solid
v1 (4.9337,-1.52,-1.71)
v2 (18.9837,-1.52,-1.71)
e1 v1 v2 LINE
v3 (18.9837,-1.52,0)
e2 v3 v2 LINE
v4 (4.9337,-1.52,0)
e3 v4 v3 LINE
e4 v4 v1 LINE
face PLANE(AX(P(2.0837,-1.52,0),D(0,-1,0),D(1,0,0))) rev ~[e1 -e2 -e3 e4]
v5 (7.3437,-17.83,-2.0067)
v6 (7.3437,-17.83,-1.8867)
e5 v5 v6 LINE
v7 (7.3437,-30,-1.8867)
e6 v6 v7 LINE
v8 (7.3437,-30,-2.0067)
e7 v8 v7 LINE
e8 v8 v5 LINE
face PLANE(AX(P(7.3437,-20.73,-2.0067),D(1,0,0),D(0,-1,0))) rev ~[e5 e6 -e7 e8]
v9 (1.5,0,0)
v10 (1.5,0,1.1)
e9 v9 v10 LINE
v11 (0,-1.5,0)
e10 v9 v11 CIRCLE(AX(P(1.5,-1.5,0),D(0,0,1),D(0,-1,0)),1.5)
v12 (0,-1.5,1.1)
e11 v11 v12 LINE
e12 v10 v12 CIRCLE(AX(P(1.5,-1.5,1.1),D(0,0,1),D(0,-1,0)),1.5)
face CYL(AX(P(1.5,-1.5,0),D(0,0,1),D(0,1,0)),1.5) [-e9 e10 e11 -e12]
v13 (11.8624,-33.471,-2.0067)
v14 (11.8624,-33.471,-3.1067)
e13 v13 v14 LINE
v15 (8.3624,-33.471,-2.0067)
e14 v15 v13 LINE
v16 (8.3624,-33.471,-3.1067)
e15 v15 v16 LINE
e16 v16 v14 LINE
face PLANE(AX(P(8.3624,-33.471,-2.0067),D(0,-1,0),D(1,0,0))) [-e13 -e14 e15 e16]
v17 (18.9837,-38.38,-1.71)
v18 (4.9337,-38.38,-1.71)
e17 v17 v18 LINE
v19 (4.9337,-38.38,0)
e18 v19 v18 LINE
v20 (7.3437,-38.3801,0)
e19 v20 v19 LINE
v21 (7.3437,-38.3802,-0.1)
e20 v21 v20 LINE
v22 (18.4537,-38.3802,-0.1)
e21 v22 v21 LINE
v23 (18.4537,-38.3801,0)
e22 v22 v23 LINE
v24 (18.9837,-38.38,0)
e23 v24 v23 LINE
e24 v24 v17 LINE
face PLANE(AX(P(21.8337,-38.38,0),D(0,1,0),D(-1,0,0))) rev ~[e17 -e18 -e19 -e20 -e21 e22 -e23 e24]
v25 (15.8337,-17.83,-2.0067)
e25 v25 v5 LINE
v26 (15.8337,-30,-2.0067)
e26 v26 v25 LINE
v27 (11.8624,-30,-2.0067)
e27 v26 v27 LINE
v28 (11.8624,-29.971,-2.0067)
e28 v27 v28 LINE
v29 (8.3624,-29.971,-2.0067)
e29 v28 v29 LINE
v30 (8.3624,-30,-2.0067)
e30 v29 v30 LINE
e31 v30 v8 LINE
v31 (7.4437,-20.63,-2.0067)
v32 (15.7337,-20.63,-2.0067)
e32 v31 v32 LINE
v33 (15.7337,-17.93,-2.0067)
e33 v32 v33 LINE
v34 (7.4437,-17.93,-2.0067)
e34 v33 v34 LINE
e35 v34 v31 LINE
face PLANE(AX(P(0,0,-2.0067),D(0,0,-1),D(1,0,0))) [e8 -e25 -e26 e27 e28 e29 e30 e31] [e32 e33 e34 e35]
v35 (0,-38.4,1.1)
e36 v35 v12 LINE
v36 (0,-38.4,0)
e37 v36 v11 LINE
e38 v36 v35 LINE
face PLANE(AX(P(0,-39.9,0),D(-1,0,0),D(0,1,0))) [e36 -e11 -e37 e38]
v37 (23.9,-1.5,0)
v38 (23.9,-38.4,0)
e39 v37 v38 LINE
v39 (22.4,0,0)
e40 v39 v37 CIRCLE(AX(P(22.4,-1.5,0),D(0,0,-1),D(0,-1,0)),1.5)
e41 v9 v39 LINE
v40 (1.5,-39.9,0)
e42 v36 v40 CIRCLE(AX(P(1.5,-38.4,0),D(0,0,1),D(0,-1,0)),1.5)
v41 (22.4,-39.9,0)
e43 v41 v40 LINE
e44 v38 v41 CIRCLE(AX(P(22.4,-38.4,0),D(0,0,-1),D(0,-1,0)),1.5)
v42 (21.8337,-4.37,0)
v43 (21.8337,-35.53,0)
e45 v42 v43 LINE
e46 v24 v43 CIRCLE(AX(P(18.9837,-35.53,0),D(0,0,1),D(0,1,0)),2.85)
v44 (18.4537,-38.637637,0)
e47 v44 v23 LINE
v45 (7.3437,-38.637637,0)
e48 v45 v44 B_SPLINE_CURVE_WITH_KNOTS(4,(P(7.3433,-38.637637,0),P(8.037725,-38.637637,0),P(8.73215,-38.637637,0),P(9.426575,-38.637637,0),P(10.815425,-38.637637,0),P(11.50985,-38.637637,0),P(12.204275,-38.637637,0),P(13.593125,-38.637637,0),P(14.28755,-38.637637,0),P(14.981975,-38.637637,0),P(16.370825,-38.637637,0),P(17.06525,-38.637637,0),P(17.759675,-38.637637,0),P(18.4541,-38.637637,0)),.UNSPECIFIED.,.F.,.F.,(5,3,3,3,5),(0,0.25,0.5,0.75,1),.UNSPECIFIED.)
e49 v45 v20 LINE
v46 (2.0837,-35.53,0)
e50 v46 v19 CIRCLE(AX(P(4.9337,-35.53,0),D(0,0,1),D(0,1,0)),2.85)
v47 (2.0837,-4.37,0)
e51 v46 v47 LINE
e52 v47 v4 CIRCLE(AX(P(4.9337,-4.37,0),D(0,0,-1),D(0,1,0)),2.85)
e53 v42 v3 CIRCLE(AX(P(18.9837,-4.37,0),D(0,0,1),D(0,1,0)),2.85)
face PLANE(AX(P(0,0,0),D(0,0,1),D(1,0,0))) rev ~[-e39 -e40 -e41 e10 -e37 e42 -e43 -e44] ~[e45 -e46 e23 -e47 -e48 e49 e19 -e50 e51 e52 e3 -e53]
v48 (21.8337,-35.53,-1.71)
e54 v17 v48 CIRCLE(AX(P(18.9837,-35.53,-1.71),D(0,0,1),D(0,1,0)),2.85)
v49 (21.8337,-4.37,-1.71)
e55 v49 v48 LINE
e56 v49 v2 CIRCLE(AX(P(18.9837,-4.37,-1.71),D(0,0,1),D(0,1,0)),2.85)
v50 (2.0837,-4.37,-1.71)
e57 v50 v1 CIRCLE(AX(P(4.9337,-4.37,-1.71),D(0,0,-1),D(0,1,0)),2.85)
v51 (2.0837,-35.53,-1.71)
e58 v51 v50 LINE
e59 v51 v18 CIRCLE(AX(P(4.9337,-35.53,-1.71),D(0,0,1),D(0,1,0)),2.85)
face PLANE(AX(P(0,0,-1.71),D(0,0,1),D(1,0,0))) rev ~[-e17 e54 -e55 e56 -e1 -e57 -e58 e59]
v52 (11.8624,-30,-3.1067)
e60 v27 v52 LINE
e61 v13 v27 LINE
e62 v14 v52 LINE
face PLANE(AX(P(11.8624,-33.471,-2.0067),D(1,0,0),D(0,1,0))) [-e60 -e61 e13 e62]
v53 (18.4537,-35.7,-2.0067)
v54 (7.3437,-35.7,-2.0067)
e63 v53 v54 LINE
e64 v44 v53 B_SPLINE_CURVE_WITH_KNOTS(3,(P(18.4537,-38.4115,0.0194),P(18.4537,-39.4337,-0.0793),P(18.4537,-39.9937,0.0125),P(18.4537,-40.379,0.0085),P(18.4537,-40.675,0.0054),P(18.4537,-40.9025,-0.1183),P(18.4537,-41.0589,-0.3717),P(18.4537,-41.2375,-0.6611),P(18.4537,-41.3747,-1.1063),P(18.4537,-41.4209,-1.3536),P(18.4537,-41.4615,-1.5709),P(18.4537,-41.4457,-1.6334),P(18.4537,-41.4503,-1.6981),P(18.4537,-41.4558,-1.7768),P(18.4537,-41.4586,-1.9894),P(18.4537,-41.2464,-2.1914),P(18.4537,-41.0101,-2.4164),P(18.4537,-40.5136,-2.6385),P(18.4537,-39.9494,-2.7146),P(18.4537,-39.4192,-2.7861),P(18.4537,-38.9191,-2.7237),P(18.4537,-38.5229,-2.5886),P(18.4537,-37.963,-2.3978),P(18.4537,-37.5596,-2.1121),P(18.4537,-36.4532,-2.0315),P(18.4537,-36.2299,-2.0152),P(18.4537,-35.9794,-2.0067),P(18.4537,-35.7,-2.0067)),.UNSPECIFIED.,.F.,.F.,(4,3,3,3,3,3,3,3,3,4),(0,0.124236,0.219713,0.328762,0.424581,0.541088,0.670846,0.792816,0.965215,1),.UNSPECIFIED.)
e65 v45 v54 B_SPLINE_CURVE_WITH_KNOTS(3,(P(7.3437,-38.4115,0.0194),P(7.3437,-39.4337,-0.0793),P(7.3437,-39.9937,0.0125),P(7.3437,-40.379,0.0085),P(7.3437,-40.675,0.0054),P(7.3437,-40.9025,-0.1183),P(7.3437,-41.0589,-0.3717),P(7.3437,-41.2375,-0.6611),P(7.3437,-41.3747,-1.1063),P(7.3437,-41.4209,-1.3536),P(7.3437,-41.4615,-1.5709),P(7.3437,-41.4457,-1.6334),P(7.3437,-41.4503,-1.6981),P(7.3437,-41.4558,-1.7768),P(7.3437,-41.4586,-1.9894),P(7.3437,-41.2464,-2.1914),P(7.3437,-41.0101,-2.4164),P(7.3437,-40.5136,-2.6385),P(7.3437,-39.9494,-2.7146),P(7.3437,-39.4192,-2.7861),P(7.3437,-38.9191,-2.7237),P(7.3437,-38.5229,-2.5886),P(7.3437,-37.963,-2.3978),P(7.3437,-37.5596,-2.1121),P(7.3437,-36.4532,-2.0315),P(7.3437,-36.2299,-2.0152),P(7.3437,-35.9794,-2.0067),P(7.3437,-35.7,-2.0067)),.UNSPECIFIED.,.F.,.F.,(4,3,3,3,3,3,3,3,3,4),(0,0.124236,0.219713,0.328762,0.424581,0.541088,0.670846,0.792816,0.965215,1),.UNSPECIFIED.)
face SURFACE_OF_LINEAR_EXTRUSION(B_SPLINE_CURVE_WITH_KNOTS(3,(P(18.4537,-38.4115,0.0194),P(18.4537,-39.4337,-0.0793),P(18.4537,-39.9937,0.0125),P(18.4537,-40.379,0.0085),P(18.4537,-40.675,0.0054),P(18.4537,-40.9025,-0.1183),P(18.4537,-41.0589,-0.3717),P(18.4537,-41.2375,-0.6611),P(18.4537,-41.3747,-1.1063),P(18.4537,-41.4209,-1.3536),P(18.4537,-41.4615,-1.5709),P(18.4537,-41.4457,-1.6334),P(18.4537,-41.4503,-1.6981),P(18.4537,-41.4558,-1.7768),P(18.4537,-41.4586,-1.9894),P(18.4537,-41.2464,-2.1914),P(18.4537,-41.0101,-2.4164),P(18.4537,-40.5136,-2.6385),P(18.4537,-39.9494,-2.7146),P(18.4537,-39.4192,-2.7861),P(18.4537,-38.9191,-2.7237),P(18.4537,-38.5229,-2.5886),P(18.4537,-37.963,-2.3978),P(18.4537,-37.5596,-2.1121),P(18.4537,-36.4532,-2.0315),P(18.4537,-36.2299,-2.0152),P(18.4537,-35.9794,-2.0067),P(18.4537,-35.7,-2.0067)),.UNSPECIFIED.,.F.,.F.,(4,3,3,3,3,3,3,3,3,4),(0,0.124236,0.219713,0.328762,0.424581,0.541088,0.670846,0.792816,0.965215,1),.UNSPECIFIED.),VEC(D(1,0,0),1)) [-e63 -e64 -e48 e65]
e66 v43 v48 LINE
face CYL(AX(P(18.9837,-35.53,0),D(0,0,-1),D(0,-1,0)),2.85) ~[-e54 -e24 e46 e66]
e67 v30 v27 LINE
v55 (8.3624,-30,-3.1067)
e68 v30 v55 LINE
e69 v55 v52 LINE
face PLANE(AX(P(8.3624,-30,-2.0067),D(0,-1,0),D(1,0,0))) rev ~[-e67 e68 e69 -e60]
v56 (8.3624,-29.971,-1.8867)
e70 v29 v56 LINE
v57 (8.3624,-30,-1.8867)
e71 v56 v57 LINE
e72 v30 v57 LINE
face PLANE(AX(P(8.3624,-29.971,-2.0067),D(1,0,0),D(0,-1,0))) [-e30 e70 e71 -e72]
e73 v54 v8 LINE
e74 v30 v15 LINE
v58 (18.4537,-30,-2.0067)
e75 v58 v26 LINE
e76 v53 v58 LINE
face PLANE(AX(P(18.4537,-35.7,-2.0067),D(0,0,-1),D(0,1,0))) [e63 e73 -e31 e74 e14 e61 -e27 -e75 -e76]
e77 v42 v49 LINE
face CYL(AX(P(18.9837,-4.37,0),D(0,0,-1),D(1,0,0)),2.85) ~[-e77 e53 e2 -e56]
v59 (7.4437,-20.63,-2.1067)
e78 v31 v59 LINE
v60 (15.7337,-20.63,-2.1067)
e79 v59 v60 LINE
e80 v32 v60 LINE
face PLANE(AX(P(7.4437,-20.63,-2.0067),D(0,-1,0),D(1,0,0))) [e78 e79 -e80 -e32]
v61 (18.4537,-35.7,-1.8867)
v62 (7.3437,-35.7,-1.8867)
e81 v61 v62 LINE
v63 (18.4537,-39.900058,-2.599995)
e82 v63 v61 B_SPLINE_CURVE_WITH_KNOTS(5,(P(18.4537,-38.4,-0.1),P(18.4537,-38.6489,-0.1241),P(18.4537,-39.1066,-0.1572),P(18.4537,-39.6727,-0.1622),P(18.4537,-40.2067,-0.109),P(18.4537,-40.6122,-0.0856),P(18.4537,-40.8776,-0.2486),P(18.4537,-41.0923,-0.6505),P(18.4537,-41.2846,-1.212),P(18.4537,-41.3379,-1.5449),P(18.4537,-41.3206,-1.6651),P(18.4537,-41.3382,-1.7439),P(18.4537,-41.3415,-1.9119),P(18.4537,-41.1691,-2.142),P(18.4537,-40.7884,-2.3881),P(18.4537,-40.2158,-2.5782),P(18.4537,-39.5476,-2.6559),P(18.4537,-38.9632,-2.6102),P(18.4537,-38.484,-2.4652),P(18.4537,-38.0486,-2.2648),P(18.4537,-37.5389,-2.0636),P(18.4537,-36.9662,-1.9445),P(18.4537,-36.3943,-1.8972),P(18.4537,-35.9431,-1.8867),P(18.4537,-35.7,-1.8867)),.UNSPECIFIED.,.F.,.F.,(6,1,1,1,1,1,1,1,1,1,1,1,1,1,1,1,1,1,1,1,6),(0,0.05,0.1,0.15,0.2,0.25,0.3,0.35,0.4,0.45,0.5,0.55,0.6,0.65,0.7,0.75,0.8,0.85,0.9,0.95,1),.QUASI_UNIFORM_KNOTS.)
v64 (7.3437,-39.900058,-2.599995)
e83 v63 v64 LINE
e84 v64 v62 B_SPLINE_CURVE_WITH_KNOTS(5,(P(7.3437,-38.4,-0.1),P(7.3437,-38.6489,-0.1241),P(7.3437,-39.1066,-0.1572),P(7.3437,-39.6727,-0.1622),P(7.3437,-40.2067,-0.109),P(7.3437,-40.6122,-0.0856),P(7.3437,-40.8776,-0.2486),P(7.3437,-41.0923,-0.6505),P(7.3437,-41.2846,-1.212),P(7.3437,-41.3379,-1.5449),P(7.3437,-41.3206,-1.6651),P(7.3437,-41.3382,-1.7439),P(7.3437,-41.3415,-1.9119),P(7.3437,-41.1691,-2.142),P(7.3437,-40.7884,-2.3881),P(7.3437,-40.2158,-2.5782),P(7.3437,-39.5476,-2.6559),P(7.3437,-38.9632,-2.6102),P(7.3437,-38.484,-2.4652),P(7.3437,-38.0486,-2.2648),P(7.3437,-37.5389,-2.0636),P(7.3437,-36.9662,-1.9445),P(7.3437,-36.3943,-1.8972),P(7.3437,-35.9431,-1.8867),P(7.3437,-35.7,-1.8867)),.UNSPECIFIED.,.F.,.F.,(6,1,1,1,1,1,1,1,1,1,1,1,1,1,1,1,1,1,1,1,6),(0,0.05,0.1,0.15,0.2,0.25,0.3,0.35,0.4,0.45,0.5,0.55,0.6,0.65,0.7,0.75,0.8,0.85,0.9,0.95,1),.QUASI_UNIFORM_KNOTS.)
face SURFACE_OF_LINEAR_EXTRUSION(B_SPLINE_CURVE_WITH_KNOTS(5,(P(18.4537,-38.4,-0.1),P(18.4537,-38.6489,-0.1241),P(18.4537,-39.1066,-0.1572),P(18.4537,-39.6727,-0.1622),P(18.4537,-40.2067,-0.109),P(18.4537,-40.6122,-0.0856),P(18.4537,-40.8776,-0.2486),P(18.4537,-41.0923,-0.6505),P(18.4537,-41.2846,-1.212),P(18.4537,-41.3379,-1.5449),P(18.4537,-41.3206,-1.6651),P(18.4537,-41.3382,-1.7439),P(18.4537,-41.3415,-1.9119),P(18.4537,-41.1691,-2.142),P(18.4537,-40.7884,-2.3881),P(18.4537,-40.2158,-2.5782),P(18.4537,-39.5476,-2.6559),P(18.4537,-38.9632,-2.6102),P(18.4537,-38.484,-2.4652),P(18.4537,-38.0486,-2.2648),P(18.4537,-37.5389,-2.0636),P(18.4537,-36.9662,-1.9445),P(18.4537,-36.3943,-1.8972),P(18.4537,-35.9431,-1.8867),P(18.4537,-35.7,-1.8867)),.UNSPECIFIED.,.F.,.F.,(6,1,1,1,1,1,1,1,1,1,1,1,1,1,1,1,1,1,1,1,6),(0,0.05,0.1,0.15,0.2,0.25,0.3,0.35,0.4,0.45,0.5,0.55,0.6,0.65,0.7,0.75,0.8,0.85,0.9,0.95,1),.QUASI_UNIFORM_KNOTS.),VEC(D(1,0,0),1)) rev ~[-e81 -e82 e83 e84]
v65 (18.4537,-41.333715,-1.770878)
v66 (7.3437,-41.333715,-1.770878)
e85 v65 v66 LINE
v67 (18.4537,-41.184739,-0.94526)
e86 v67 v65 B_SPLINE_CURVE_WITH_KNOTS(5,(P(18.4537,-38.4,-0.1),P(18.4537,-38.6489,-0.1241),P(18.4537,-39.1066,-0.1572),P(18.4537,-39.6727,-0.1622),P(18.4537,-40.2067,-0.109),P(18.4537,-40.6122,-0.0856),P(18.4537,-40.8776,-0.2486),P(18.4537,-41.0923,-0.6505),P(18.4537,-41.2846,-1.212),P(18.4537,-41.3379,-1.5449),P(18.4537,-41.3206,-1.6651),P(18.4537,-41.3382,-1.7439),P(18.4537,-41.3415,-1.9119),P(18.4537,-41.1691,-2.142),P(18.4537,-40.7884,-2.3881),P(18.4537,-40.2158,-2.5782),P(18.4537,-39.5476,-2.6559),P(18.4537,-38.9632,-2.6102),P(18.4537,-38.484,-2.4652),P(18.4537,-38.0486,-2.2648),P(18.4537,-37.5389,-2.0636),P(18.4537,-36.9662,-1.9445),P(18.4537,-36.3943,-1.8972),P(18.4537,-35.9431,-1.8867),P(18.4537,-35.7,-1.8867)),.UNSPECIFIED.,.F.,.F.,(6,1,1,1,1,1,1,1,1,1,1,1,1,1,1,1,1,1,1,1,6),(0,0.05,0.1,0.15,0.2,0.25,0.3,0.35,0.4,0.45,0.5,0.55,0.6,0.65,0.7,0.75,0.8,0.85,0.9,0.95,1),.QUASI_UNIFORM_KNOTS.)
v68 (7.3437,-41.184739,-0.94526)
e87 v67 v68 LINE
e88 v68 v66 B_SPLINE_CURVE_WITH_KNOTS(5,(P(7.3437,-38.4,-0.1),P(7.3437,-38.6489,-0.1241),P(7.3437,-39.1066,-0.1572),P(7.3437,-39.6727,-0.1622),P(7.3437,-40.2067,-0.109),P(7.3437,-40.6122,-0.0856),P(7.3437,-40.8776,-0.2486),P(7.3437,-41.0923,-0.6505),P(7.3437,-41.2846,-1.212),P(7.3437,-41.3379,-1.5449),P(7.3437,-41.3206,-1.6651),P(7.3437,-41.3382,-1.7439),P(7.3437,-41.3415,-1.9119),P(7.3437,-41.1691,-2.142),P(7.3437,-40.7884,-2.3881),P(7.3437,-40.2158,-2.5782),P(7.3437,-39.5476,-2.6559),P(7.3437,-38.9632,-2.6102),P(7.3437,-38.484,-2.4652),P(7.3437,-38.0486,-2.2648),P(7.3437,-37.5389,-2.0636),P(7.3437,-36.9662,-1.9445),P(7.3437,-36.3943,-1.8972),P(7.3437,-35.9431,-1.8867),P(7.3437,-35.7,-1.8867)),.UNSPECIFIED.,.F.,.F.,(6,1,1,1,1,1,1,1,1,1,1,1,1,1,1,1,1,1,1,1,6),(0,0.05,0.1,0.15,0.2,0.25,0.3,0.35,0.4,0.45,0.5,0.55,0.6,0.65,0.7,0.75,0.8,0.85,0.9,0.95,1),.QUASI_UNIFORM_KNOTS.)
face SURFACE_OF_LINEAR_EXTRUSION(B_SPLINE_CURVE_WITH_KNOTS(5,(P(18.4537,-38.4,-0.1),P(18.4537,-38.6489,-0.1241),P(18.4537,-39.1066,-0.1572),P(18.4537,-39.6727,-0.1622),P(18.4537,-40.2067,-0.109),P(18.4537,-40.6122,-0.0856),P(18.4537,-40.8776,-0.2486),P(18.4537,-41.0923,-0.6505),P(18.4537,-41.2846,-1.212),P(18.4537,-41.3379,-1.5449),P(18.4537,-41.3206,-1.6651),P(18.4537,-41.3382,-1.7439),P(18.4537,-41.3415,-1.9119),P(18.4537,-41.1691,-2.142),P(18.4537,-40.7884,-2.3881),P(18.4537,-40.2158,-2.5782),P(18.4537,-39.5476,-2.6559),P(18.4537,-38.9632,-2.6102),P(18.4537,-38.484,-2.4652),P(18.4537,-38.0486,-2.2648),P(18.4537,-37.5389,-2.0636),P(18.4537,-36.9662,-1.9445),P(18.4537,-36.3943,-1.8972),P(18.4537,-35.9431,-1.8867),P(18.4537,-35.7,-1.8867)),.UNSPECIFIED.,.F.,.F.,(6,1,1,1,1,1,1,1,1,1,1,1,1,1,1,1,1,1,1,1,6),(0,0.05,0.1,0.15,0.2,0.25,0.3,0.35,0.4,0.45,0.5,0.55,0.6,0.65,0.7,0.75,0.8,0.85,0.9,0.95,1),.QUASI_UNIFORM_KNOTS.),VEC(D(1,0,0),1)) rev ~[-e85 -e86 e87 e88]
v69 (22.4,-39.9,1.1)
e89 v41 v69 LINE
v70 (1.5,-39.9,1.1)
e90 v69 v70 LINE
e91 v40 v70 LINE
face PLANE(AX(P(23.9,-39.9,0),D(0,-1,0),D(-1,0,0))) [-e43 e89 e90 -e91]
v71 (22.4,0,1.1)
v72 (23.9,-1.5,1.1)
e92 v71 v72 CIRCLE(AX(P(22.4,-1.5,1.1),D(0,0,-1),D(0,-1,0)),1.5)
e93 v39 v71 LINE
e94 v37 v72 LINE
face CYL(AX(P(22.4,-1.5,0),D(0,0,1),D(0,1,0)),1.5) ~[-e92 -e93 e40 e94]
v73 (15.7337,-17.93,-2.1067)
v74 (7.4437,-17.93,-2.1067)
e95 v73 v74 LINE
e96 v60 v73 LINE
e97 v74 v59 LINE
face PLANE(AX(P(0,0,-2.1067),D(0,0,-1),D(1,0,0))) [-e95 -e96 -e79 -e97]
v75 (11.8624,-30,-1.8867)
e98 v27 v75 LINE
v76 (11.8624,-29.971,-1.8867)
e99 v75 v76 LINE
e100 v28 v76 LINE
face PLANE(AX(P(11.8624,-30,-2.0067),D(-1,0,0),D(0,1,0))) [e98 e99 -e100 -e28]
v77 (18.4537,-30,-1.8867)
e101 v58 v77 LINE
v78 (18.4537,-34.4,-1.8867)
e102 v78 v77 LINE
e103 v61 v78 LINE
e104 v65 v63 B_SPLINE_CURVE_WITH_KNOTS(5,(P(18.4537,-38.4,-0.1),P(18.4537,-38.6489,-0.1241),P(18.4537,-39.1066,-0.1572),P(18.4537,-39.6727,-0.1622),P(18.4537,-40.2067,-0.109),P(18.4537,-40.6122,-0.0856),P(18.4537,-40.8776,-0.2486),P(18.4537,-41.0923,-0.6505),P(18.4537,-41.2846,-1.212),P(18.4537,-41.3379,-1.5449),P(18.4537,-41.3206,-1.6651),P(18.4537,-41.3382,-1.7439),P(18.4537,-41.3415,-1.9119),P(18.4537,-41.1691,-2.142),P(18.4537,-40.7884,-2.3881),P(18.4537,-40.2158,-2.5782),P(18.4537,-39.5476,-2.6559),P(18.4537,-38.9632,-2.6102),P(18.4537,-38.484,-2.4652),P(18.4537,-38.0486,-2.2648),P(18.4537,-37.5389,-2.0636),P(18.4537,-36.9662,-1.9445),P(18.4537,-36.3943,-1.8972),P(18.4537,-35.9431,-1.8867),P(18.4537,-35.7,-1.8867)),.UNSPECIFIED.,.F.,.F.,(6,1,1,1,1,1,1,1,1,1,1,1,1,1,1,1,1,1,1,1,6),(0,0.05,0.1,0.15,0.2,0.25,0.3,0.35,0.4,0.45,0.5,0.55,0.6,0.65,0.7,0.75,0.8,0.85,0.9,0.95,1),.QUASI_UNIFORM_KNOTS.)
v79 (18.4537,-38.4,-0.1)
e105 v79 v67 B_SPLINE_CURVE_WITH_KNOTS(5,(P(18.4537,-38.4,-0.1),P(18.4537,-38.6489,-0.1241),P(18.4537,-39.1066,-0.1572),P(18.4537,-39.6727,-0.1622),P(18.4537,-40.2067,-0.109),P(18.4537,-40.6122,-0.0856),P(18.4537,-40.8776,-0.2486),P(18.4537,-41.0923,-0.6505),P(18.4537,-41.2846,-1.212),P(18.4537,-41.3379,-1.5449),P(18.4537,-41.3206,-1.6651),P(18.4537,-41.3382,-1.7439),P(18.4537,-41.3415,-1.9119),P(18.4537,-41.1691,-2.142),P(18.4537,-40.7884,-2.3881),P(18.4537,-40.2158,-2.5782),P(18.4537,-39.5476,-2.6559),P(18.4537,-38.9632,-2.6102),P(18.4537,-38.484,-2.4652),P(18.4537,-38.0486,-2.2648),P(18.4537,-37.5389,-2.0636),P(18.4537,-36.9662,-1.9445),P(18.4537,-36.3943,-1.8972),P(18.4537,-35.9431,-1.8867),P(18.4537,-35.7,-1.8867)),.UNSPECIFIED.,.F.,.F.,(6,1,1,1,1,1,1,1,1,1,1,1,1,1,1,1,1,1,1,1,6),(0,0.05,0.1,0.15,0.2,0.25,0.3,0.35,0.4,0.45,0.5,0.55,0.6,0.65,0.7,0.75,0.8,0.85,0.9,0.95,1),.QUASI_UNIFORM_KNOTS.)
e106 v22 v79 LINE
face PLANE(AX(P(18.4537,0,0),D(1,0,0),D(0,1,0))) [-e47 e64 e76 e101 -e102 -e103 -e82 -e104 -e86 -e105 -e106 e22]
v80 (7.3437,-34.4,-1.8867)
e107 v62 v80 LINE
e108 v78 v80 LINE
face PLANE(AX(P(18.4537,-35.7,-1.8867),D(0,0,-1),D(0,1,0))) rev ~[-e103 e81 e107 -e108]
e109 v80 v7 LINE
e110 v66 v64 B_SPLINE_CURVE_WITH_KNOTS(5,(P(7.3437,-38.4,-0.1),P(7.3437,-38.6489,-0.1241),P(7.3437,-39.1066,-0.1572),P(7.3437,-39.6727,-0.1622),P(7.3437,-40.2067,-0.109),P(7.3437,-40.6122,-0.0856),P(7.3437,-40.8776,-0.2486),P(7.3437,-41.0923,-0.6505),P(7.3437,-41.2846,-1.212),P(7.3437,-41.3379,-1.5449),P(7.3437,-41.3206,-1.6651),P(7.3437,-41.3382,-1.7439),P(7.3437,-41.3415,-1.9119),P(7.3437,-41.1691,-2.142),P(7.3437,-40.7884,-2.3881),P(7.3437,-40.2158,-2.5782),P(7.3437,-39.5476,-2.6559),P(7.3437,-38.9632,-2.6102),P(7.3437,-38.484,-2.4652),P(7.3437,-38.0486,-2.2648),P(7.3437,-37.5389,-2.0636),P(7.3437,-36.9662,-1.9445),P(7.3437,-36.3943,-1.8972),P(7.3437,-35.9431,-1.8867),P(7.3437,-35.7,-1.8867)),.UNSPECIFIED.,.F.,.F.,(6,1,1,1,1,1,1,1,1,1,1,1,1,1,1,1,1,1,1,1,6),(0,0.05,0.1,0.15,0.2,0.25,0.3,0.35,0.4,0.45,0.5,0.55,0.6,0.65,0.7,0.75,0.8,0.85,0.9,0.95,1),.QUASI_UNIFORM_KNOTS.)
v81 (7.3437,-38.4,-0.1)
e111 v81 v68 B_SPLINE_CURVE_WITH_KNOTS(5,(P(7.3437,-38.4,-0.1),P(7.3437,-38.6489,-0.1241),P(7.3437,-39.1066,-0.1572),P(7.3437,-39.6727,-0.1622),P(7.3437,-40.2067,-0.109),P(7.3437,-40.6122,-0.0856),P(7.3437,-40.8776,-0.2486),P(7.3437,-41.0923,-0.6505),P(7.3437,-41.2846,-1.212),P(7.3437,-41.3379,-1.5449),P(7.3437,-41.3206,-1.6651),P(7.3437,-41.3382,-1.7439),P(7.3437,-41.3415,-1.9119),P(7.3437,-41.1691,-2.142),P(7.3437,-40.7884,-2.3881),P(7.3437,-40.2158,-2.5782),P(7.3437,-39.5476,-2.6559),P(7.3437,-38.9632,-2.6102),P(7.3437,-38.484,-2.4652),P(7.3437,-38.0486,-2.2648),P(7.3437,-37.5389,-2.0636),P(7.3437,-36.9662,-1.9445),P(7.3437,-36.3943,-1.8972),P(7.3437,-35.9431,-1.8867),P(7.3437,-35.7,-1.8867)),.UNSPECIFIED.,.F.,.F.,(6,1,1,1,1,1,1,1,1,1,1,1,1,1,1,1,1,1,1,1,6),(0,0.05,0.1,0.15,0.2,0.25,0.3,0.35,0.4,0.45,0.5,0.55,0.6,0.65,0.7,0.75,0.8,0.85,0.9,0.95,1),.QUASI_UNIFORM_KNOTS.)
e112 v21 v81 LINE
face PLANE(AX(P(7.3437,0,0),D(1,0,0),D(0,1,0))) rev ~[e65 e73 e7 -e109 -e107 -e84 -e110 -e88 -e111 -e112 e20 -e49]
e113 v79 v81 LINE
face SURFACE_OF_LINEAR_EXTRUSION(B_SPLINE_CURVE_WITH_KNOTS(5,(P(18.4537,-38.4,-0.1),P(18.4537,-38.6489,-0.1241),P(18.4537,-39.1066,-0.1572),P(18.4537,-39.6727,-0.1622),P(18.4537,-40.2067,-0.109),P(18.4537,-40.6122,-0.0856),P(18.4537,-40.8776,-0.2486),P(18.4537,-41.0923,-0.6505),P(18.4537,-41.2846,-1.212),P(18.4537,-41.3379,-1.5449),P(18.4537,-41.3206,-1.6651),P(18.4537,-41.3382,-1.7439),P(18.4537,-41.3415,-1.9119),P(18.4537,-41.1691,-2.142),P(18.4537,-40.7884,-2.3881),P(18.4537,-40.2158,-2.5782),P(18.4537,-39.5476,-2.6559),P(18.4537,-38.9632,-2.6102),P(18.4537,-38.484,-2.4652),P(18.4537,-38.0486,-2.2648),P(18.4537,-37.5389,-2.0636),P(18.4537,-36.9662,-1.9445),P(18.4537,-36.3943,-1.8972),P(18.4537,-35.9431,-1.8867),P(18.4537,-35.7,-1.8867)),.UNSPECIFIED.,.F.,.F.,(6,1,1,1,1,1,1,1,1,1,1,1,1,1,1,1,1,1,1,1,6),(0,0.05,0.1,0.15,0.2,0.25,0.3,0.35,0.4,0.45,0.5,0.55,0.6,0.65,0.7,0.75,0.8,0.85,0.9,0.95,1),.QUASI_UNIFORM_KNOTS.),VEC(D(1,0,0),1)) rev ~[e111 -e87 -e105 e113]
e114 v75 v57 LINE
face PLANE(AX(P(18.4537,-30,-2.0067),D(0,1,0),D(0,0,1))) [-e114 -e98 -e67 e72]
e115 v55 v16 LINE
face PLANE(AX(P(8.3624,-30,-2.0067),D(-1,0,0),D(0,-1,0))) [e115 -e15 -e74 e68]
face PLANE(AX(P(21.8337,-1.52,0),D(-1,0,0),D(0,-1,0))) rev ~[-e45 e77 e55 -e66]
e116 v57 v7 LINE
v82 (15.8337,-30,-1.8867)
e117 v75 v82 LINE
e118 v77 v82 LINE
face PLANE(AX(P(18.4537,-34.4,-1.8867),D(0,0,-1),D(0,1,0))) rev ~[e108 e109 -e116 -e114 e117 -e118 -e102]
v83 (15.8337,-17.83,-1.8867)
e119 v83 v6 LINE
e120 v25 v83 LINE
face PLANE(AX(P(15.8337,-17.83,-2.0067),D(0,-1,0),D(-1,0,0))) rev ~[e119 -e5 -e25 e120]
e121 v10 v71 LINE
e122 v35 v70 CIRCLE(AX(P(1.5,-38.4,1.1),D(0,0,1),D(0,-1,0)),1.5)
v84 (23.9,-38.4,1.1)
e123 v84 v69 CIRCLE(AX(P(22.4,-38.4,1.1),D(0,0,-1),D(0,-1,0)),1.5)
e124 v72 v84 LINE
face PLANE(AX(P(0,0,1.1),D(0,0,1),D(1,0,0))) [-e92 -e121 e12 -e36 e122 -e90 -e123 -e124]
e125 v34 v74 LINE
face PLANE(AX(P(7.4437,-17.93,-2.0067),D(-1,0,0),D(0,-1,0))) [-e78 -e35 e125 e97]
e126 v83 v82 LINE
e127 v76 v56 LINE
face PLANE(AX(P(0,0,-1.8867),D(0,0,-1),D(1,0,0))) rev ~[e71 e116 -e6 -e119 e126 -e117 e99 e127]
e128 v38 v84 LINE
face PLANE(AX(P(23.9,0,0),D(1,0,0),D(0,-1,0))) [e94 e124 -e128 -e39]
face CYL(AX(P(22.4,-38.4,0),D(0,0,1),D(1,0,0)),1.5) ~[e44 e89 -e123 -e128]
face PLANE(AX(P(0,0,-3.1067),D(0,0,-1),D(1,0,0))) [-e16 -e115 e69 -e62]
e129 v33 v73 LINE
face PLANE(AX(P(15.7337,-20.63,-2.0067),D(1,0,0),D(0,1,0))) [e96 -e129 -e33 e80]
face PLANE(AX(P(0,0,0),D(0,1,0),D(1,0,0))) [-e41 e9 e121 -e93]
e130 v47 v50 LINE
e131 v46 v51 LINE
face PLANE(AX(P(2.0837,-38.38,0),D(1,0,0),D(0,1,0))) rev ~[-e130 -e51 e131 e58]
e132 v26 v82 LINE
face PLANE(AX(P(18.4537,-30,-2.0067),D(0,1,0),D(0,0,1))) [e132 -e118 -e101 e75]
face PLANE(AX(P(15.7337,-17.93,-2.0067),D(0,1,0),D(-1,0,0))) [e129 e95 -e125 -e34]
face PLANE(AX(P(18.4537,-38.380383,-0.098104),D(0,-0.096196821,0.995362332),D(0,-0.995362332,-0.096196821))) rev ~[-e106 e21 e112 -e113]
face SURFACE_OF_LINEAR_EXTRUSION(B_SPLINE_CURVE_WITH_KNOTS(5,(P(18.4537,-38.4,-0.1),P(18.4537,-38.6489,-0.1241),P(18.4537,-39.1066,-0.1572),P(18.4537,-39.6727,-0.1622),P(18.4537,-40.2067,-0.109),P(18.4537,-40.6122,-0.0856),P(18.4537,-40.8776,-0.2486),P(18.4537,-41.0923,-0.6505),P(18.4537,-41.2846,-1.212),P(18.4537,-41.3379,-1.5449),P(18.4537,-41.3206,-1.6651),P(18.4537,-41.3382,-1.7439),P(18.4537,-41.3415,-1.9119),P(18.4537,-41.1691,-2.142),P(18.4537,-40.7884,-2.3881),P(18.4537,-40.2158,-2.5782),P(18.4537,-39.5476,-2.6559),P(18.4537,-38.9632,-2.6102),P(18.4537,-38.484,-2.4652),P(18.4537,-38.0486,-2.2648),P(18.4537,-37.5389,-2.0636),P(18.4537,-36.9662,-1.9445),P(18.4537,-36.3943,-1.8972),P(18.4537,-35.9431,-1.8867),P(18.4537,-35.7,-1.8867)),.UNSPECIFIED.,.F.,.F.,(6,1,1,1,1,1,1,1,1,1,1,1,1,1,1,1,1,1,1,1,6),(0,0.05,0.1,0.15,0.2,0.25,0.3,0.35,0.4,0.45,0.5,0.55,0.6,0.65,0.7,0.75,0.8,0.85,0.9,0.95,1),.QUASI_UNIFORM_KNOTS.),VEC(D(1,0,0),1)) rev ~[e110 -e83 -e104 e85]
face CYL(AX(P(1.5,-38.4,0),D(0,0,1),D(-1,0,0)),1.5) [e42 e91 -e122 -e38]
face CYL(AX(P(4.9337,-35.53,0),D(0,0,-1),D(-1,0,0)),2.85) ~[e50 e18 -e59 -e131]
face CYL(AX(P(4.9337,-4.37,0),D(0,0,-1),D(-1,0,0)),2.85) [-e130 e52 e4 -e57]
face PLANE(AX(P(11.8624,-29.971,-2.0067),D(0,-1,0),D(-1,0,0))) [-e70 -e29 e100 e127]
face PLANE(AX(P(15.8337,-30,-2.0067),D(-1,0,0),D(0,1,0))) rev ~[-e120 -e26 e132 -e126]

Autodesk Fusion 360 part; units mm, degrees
sketch "草图1" plane through (0, 0, 0) normal (0, 0, 1) x (1, 0, 0)
  line L0 (0, 0) -> (23.9, 0)
  line L1 (23.9, 0) -> (23.9, -39.9)
  line L2 (23.9, -39.9) -> (0, -39.9)
  line L3 (0, -39.9) -> (0, 0)
  line L4 (7.7265, 0) -> (7.7265, -1.52) construction
  line L5 (0, -5.5) -> (2.0837, -5.5) construction
  line L6 (2.0837, -5.5) -> (2.0837, 0) construction
  line L7 (7.7265, -1.52) -> (0, -1.52) construction
  line L8 (2.0837, -1.52) -> (21.8337, -1.52)
  line L9 (21.8337, -1.52) -> (21.8337, -38.38)
  line L10 (21.8337, -38.38) -> (2.0837, -38.38)
  line L11 (2.0837, -38.38) -> (2.0837, -1.52)
  line L12 (7.1501, -1.52) -> (7.1501, -2.29) construction
  line L13 (2.0837, -3.1305) -> (2.9264, -3.1305) construction
  line L14 (7.1501, -2.29) -> (2.0837, -2.2916) construction
  line L15 (2.9264, -3.1305) -> (2.9251, -1.52) construction
  line L16 (5.4257, -2.2913) -> (18.4729, -2.2913)
  line L17 (20.9729, -4.7913) -> (20.9729, -33.0233)
  line L18 (18.4729, -35.5233) -> (5.4257, -35.5233)
  line L19 (2.9257, -33.0233) -> (2.9257, -4.7913)
  arc A0 (20.9729, -4.7913) -> (18.4729, -2.2913) centre (18.4729, -4.7913) ccw
  arc A1 (5.4257, -2.2913) -> (2.9257, -4.7913) centre (5.4257, -4.7913) ccw
  arc A2 (18.4729, -35.5233) -> (20.9729, -33.0233) centre (18.4729, -33.0233) ccw
  arc A3 (2.9257, -33.0233) -> (5.4257, -35.5233) centre (5.4257, -33.0233) ccw
  point P0 (2.9257, -2.2913)
  point P1 (20.9729, -2.2913)
  point P2 (2.9257, -35.5233)
  dimension "d13" = 23.9
  dimension "d14" = 39.9
  dimension "d15" = 1.52
  dimension "d16" = 2.0837
  dimension "d17" = 19.75
  dimension "d18" = 36.86
  dimension "d19" = 0.77
  dimension "d20" = 0.8427
  dimension "d21" = 18.0472
  dimension "d22" = 33.232
  dimension "d23" = 2.5
  dimension "d24" = 2.5
  dimension "d25" = 2.5
  dimension "d26" = 2.5
extrude "拉伸1" add sketch "草图1" along normal blind 1.1 contours L16 L17 L18 L19 A0 A1 A2 A3 makes body 1
extrude "拉伸2" add sketch "草图1" along normal blind 1.1 separate body contours L0 L1 L2 L3 | L8 L9 L10 L11 makes body 2
extrude "拉伸3" add sketch "草图1" against normal blind 1.71 contours L8 L9 L10 L11 | L16 L17 L18 L19 A0 A1 A2 A3 bodies 1 2
fillet "圆角1" radius 2.85 4 edges at (2.0837, -38.38, -0.855) (21.8337, -38.38, -0.855) (2.0837, -1.52, -0.855) (21.8337, -1.52, -0.855) on bodies 1
fillet "圆角2" radius 1.5 4 edges at (23.9, -39.9, 0.55) (23.9, 0, 0.55) (0, -39.9, 0.55) (0, 0, 0.55) on bodies 1 2
ref_plane "工作平面1" through (18.4537, -19.95, -0.855) normal (1, 0, 0) x (0, -1, 0)
sketch "草图2" plane through (18.4537, 0, 0) normal (1, 0, 0) x (0, 1, 0)
  line L0 (-40.0737, 0.279) -> (-41.3337, 0.279) construction
  line L1 (-41.3337, 0.279) -> (-41.3337, -3.821) construction
  spline S0 degree 5 poles (-38.4, -0.1) (-38.6489, -0.1241) (-39.1066, -0.1572) (-39.6727, -0.1622) (-40.2067, -0.109) (-40.6122, -0.0856) (-40.8776, -0.2486) (-41.0923, -0.6505) (-41.2846, -1.212) (-41.3379, -1.5449) (-41.3206, -1.6651) (-41.3382, -1.7439) (-41.3415, -1.9119) (-41.1691, -2.142) (-40.7884, -2.3881) (-40.2158, -2.5782) (-39.5476, -2.6559) (-38.9632, -2.6102) (-38.484, -2.4652) (-38.0486, -2.2648) (-37.5389, -2.0636) (-36.9662, -1.9445) (-36.3943, -1.8972) (-35.9431, -1.8867) (-35.7, -1.8867) knots 0 0 0 0 0 0 0.05 0.1 0.15 0.2 0.25 0.3 0.35 0.4 0.45 0.5 0.55 0.6 0.65 0.7 0.75 0.8 0.85 0.9 0.95 1 1 1 1 1 1
  line L2 (-40.9429, -0.2435) -> (-41.4268, -1.6476)
  line L3 (-37, -1.8867) -> (-34.4, -1.8867)
  line L4 (-38.4, -1.7) -> (-30.02, -1.7) construction
  line L5 (-35.7, -1.8867) -> (-30, -1.8867)
  line L6 (-40.7, -2.5) -> (-39.1, -2.7)
  line L7 (-41.3337, -1.521) -> (-41.3337, -2.021)
  line L8 (-36.7517, 0.0593) -> (-40.0483, -0.2593)
  spline S1 degree 3 poles (-38.4115, 0.0194) (-39.4337, -0.0793) (-39.9937, 0.0125) (-40.379, 0.0085) (-40.675, 0.0054) (-40.9025, -0.1183) (-41.0589, -0.3717) (-41.2375, -0.6611) (-41.3747, -1.1063) (-41.4209, -1.3536) (-41.4615, -1.5709) (-41.4457, -1.6334) (-41.4503, -1.6981) (-41.4558, -1.7768) (-41.4586, -1.9894) (-41.2464, -2.1914) (-41.0101, -2.4164) (-40.5136, -2.6385) (-39.9494, -2.7146) (-39.4192, -2.7861) (-38.9191, -2.7237) (-38.5229, -2.5886) (-37.963, -2.3978) (-37.5596, -2.1121) (-36.4532, -2.0315) (-36.2299, -2.0152) (-35.9794, -2.0067) (-35.7, -2.0067) knots 0 0 0 0 0.124236 0.124236 0.124236 0.219713 0.219713 0.219713 0.328762 0.328762 0.328762 0.424581 0.424581 0.424581 0.541088 0.541088 0.541088 0.670846 0.670846 0.670846 0.792816 0.792816 0.792816 0.965215 0.965215 0.965215 1 1 1 1
  line L9 (-35.7, -2.0067) -> (-30, -2.0067)
  line L10 (-38.4, -0.1) -> (-38.3802, -0.1)
  line L11 (-38.3802, 0.0197) -> (-38.4115, 0.0194)
  line L12 (-38.3802, -0.1) -> (-38.3802, 0.0197)
  line L13 (-30, -2.0067) -> (-30, -1.8867)
  point P0 (-41.1848, -0.9456)
  point P1 (-41.3337, -1.771)
  point P2 (-39.9, -2.6)
  dimension "d38" = 1.26
  dimension "d39" = 8.38
  dimension "d40" = 0.12
extrude "拉伸4" add sketch "草图2" against normal blind 11.11 bodies 1
sketch "草图3" plane through (0, 0, -2.0067) normal (0, 0, -1) x (1, 0, 0)
  line L0 (18.4537, 30) -> (18.4537, 35.7)
  line L1 (18.4537, 35.7) -> (7.3437, 35.7)
  line L2 (7.3437, 35.7) -> (7.3437, 30)
  line L3 (7.3437, 30) -> (18.4537, 30)
  line L4 (5.7336, 38.371) -> (5.7336, 33.471) construction
  line L5 (5.7336, 33.471) -> (22, 33.471) construction
  line L6 (8.3624, 33.471) -> (11.8624, 33.471)
  line L7 (11.8624, 33.471) -> (11.8624, 29.971)
  line L8 (11.8624, 29.971) -> (8.3624, 29.971)
  line L9 (8.3624, 29.971) -> (8.3624, 33.471)
  line L10 (7.3437, 30) -> (15.8337, 30)
  line L11 (15.8337, 30) -> (15.8337, 17.83)
  line L12 (15.8337, 17.83) -> (7.3437, 17.83)
  line L13 (7.3437, 17.83) -> (7.3437, 30)
  line L14 (15.8337, 17.83) -> (7.3437, 17.83)
  line L15 (7.3437, 17.83) -> (7.3437, 20.73)
  line L16 (7.3437, 20.73) -> (15.8337, 20.73)
  line L17 (15.8337, 20.73) -> (15.8337, 17.83)
  line L18 (15.7337, 17.93) -> (7.4437, 17.93)
  line L19 (7.4437, 17.93) -> (7.4437, 20.63)
  line L20 (7.4437, 20.63) -> (15.7337, 20.63)
  line L21 (15.7337, 20.63) -> (15.7337, 17.93)
  dimension "d43" = 4.9
  dimension "d44" = 3.5
  dimension "d45" = 3.5
  dimension "d48" = 8.49
  dimension "d49" = 12.17
  dimension "d52" = 2.9
  dimension "d53" = 0.1
extrude "拉伸5" add sketch "草图3" along normal blind 1.1 contours L3 L6 L7 L9 L10 bodies 1
extrude "拉伸6" add sketch "草图3" against normal blind 0.12 contours L3 L7 L8 L9 L10 L11 L13 L16 | L11 L12 L13 L14 L15 L16 L17 | L18 L19 L20 L21 bodies 1
extrude "拉伸7" add sketch "草图3" along normal blind 0.1 contours L18 L19 L20 L21 bodies 1
equation "d31 = -2.81 mm + 1.1 mm"
